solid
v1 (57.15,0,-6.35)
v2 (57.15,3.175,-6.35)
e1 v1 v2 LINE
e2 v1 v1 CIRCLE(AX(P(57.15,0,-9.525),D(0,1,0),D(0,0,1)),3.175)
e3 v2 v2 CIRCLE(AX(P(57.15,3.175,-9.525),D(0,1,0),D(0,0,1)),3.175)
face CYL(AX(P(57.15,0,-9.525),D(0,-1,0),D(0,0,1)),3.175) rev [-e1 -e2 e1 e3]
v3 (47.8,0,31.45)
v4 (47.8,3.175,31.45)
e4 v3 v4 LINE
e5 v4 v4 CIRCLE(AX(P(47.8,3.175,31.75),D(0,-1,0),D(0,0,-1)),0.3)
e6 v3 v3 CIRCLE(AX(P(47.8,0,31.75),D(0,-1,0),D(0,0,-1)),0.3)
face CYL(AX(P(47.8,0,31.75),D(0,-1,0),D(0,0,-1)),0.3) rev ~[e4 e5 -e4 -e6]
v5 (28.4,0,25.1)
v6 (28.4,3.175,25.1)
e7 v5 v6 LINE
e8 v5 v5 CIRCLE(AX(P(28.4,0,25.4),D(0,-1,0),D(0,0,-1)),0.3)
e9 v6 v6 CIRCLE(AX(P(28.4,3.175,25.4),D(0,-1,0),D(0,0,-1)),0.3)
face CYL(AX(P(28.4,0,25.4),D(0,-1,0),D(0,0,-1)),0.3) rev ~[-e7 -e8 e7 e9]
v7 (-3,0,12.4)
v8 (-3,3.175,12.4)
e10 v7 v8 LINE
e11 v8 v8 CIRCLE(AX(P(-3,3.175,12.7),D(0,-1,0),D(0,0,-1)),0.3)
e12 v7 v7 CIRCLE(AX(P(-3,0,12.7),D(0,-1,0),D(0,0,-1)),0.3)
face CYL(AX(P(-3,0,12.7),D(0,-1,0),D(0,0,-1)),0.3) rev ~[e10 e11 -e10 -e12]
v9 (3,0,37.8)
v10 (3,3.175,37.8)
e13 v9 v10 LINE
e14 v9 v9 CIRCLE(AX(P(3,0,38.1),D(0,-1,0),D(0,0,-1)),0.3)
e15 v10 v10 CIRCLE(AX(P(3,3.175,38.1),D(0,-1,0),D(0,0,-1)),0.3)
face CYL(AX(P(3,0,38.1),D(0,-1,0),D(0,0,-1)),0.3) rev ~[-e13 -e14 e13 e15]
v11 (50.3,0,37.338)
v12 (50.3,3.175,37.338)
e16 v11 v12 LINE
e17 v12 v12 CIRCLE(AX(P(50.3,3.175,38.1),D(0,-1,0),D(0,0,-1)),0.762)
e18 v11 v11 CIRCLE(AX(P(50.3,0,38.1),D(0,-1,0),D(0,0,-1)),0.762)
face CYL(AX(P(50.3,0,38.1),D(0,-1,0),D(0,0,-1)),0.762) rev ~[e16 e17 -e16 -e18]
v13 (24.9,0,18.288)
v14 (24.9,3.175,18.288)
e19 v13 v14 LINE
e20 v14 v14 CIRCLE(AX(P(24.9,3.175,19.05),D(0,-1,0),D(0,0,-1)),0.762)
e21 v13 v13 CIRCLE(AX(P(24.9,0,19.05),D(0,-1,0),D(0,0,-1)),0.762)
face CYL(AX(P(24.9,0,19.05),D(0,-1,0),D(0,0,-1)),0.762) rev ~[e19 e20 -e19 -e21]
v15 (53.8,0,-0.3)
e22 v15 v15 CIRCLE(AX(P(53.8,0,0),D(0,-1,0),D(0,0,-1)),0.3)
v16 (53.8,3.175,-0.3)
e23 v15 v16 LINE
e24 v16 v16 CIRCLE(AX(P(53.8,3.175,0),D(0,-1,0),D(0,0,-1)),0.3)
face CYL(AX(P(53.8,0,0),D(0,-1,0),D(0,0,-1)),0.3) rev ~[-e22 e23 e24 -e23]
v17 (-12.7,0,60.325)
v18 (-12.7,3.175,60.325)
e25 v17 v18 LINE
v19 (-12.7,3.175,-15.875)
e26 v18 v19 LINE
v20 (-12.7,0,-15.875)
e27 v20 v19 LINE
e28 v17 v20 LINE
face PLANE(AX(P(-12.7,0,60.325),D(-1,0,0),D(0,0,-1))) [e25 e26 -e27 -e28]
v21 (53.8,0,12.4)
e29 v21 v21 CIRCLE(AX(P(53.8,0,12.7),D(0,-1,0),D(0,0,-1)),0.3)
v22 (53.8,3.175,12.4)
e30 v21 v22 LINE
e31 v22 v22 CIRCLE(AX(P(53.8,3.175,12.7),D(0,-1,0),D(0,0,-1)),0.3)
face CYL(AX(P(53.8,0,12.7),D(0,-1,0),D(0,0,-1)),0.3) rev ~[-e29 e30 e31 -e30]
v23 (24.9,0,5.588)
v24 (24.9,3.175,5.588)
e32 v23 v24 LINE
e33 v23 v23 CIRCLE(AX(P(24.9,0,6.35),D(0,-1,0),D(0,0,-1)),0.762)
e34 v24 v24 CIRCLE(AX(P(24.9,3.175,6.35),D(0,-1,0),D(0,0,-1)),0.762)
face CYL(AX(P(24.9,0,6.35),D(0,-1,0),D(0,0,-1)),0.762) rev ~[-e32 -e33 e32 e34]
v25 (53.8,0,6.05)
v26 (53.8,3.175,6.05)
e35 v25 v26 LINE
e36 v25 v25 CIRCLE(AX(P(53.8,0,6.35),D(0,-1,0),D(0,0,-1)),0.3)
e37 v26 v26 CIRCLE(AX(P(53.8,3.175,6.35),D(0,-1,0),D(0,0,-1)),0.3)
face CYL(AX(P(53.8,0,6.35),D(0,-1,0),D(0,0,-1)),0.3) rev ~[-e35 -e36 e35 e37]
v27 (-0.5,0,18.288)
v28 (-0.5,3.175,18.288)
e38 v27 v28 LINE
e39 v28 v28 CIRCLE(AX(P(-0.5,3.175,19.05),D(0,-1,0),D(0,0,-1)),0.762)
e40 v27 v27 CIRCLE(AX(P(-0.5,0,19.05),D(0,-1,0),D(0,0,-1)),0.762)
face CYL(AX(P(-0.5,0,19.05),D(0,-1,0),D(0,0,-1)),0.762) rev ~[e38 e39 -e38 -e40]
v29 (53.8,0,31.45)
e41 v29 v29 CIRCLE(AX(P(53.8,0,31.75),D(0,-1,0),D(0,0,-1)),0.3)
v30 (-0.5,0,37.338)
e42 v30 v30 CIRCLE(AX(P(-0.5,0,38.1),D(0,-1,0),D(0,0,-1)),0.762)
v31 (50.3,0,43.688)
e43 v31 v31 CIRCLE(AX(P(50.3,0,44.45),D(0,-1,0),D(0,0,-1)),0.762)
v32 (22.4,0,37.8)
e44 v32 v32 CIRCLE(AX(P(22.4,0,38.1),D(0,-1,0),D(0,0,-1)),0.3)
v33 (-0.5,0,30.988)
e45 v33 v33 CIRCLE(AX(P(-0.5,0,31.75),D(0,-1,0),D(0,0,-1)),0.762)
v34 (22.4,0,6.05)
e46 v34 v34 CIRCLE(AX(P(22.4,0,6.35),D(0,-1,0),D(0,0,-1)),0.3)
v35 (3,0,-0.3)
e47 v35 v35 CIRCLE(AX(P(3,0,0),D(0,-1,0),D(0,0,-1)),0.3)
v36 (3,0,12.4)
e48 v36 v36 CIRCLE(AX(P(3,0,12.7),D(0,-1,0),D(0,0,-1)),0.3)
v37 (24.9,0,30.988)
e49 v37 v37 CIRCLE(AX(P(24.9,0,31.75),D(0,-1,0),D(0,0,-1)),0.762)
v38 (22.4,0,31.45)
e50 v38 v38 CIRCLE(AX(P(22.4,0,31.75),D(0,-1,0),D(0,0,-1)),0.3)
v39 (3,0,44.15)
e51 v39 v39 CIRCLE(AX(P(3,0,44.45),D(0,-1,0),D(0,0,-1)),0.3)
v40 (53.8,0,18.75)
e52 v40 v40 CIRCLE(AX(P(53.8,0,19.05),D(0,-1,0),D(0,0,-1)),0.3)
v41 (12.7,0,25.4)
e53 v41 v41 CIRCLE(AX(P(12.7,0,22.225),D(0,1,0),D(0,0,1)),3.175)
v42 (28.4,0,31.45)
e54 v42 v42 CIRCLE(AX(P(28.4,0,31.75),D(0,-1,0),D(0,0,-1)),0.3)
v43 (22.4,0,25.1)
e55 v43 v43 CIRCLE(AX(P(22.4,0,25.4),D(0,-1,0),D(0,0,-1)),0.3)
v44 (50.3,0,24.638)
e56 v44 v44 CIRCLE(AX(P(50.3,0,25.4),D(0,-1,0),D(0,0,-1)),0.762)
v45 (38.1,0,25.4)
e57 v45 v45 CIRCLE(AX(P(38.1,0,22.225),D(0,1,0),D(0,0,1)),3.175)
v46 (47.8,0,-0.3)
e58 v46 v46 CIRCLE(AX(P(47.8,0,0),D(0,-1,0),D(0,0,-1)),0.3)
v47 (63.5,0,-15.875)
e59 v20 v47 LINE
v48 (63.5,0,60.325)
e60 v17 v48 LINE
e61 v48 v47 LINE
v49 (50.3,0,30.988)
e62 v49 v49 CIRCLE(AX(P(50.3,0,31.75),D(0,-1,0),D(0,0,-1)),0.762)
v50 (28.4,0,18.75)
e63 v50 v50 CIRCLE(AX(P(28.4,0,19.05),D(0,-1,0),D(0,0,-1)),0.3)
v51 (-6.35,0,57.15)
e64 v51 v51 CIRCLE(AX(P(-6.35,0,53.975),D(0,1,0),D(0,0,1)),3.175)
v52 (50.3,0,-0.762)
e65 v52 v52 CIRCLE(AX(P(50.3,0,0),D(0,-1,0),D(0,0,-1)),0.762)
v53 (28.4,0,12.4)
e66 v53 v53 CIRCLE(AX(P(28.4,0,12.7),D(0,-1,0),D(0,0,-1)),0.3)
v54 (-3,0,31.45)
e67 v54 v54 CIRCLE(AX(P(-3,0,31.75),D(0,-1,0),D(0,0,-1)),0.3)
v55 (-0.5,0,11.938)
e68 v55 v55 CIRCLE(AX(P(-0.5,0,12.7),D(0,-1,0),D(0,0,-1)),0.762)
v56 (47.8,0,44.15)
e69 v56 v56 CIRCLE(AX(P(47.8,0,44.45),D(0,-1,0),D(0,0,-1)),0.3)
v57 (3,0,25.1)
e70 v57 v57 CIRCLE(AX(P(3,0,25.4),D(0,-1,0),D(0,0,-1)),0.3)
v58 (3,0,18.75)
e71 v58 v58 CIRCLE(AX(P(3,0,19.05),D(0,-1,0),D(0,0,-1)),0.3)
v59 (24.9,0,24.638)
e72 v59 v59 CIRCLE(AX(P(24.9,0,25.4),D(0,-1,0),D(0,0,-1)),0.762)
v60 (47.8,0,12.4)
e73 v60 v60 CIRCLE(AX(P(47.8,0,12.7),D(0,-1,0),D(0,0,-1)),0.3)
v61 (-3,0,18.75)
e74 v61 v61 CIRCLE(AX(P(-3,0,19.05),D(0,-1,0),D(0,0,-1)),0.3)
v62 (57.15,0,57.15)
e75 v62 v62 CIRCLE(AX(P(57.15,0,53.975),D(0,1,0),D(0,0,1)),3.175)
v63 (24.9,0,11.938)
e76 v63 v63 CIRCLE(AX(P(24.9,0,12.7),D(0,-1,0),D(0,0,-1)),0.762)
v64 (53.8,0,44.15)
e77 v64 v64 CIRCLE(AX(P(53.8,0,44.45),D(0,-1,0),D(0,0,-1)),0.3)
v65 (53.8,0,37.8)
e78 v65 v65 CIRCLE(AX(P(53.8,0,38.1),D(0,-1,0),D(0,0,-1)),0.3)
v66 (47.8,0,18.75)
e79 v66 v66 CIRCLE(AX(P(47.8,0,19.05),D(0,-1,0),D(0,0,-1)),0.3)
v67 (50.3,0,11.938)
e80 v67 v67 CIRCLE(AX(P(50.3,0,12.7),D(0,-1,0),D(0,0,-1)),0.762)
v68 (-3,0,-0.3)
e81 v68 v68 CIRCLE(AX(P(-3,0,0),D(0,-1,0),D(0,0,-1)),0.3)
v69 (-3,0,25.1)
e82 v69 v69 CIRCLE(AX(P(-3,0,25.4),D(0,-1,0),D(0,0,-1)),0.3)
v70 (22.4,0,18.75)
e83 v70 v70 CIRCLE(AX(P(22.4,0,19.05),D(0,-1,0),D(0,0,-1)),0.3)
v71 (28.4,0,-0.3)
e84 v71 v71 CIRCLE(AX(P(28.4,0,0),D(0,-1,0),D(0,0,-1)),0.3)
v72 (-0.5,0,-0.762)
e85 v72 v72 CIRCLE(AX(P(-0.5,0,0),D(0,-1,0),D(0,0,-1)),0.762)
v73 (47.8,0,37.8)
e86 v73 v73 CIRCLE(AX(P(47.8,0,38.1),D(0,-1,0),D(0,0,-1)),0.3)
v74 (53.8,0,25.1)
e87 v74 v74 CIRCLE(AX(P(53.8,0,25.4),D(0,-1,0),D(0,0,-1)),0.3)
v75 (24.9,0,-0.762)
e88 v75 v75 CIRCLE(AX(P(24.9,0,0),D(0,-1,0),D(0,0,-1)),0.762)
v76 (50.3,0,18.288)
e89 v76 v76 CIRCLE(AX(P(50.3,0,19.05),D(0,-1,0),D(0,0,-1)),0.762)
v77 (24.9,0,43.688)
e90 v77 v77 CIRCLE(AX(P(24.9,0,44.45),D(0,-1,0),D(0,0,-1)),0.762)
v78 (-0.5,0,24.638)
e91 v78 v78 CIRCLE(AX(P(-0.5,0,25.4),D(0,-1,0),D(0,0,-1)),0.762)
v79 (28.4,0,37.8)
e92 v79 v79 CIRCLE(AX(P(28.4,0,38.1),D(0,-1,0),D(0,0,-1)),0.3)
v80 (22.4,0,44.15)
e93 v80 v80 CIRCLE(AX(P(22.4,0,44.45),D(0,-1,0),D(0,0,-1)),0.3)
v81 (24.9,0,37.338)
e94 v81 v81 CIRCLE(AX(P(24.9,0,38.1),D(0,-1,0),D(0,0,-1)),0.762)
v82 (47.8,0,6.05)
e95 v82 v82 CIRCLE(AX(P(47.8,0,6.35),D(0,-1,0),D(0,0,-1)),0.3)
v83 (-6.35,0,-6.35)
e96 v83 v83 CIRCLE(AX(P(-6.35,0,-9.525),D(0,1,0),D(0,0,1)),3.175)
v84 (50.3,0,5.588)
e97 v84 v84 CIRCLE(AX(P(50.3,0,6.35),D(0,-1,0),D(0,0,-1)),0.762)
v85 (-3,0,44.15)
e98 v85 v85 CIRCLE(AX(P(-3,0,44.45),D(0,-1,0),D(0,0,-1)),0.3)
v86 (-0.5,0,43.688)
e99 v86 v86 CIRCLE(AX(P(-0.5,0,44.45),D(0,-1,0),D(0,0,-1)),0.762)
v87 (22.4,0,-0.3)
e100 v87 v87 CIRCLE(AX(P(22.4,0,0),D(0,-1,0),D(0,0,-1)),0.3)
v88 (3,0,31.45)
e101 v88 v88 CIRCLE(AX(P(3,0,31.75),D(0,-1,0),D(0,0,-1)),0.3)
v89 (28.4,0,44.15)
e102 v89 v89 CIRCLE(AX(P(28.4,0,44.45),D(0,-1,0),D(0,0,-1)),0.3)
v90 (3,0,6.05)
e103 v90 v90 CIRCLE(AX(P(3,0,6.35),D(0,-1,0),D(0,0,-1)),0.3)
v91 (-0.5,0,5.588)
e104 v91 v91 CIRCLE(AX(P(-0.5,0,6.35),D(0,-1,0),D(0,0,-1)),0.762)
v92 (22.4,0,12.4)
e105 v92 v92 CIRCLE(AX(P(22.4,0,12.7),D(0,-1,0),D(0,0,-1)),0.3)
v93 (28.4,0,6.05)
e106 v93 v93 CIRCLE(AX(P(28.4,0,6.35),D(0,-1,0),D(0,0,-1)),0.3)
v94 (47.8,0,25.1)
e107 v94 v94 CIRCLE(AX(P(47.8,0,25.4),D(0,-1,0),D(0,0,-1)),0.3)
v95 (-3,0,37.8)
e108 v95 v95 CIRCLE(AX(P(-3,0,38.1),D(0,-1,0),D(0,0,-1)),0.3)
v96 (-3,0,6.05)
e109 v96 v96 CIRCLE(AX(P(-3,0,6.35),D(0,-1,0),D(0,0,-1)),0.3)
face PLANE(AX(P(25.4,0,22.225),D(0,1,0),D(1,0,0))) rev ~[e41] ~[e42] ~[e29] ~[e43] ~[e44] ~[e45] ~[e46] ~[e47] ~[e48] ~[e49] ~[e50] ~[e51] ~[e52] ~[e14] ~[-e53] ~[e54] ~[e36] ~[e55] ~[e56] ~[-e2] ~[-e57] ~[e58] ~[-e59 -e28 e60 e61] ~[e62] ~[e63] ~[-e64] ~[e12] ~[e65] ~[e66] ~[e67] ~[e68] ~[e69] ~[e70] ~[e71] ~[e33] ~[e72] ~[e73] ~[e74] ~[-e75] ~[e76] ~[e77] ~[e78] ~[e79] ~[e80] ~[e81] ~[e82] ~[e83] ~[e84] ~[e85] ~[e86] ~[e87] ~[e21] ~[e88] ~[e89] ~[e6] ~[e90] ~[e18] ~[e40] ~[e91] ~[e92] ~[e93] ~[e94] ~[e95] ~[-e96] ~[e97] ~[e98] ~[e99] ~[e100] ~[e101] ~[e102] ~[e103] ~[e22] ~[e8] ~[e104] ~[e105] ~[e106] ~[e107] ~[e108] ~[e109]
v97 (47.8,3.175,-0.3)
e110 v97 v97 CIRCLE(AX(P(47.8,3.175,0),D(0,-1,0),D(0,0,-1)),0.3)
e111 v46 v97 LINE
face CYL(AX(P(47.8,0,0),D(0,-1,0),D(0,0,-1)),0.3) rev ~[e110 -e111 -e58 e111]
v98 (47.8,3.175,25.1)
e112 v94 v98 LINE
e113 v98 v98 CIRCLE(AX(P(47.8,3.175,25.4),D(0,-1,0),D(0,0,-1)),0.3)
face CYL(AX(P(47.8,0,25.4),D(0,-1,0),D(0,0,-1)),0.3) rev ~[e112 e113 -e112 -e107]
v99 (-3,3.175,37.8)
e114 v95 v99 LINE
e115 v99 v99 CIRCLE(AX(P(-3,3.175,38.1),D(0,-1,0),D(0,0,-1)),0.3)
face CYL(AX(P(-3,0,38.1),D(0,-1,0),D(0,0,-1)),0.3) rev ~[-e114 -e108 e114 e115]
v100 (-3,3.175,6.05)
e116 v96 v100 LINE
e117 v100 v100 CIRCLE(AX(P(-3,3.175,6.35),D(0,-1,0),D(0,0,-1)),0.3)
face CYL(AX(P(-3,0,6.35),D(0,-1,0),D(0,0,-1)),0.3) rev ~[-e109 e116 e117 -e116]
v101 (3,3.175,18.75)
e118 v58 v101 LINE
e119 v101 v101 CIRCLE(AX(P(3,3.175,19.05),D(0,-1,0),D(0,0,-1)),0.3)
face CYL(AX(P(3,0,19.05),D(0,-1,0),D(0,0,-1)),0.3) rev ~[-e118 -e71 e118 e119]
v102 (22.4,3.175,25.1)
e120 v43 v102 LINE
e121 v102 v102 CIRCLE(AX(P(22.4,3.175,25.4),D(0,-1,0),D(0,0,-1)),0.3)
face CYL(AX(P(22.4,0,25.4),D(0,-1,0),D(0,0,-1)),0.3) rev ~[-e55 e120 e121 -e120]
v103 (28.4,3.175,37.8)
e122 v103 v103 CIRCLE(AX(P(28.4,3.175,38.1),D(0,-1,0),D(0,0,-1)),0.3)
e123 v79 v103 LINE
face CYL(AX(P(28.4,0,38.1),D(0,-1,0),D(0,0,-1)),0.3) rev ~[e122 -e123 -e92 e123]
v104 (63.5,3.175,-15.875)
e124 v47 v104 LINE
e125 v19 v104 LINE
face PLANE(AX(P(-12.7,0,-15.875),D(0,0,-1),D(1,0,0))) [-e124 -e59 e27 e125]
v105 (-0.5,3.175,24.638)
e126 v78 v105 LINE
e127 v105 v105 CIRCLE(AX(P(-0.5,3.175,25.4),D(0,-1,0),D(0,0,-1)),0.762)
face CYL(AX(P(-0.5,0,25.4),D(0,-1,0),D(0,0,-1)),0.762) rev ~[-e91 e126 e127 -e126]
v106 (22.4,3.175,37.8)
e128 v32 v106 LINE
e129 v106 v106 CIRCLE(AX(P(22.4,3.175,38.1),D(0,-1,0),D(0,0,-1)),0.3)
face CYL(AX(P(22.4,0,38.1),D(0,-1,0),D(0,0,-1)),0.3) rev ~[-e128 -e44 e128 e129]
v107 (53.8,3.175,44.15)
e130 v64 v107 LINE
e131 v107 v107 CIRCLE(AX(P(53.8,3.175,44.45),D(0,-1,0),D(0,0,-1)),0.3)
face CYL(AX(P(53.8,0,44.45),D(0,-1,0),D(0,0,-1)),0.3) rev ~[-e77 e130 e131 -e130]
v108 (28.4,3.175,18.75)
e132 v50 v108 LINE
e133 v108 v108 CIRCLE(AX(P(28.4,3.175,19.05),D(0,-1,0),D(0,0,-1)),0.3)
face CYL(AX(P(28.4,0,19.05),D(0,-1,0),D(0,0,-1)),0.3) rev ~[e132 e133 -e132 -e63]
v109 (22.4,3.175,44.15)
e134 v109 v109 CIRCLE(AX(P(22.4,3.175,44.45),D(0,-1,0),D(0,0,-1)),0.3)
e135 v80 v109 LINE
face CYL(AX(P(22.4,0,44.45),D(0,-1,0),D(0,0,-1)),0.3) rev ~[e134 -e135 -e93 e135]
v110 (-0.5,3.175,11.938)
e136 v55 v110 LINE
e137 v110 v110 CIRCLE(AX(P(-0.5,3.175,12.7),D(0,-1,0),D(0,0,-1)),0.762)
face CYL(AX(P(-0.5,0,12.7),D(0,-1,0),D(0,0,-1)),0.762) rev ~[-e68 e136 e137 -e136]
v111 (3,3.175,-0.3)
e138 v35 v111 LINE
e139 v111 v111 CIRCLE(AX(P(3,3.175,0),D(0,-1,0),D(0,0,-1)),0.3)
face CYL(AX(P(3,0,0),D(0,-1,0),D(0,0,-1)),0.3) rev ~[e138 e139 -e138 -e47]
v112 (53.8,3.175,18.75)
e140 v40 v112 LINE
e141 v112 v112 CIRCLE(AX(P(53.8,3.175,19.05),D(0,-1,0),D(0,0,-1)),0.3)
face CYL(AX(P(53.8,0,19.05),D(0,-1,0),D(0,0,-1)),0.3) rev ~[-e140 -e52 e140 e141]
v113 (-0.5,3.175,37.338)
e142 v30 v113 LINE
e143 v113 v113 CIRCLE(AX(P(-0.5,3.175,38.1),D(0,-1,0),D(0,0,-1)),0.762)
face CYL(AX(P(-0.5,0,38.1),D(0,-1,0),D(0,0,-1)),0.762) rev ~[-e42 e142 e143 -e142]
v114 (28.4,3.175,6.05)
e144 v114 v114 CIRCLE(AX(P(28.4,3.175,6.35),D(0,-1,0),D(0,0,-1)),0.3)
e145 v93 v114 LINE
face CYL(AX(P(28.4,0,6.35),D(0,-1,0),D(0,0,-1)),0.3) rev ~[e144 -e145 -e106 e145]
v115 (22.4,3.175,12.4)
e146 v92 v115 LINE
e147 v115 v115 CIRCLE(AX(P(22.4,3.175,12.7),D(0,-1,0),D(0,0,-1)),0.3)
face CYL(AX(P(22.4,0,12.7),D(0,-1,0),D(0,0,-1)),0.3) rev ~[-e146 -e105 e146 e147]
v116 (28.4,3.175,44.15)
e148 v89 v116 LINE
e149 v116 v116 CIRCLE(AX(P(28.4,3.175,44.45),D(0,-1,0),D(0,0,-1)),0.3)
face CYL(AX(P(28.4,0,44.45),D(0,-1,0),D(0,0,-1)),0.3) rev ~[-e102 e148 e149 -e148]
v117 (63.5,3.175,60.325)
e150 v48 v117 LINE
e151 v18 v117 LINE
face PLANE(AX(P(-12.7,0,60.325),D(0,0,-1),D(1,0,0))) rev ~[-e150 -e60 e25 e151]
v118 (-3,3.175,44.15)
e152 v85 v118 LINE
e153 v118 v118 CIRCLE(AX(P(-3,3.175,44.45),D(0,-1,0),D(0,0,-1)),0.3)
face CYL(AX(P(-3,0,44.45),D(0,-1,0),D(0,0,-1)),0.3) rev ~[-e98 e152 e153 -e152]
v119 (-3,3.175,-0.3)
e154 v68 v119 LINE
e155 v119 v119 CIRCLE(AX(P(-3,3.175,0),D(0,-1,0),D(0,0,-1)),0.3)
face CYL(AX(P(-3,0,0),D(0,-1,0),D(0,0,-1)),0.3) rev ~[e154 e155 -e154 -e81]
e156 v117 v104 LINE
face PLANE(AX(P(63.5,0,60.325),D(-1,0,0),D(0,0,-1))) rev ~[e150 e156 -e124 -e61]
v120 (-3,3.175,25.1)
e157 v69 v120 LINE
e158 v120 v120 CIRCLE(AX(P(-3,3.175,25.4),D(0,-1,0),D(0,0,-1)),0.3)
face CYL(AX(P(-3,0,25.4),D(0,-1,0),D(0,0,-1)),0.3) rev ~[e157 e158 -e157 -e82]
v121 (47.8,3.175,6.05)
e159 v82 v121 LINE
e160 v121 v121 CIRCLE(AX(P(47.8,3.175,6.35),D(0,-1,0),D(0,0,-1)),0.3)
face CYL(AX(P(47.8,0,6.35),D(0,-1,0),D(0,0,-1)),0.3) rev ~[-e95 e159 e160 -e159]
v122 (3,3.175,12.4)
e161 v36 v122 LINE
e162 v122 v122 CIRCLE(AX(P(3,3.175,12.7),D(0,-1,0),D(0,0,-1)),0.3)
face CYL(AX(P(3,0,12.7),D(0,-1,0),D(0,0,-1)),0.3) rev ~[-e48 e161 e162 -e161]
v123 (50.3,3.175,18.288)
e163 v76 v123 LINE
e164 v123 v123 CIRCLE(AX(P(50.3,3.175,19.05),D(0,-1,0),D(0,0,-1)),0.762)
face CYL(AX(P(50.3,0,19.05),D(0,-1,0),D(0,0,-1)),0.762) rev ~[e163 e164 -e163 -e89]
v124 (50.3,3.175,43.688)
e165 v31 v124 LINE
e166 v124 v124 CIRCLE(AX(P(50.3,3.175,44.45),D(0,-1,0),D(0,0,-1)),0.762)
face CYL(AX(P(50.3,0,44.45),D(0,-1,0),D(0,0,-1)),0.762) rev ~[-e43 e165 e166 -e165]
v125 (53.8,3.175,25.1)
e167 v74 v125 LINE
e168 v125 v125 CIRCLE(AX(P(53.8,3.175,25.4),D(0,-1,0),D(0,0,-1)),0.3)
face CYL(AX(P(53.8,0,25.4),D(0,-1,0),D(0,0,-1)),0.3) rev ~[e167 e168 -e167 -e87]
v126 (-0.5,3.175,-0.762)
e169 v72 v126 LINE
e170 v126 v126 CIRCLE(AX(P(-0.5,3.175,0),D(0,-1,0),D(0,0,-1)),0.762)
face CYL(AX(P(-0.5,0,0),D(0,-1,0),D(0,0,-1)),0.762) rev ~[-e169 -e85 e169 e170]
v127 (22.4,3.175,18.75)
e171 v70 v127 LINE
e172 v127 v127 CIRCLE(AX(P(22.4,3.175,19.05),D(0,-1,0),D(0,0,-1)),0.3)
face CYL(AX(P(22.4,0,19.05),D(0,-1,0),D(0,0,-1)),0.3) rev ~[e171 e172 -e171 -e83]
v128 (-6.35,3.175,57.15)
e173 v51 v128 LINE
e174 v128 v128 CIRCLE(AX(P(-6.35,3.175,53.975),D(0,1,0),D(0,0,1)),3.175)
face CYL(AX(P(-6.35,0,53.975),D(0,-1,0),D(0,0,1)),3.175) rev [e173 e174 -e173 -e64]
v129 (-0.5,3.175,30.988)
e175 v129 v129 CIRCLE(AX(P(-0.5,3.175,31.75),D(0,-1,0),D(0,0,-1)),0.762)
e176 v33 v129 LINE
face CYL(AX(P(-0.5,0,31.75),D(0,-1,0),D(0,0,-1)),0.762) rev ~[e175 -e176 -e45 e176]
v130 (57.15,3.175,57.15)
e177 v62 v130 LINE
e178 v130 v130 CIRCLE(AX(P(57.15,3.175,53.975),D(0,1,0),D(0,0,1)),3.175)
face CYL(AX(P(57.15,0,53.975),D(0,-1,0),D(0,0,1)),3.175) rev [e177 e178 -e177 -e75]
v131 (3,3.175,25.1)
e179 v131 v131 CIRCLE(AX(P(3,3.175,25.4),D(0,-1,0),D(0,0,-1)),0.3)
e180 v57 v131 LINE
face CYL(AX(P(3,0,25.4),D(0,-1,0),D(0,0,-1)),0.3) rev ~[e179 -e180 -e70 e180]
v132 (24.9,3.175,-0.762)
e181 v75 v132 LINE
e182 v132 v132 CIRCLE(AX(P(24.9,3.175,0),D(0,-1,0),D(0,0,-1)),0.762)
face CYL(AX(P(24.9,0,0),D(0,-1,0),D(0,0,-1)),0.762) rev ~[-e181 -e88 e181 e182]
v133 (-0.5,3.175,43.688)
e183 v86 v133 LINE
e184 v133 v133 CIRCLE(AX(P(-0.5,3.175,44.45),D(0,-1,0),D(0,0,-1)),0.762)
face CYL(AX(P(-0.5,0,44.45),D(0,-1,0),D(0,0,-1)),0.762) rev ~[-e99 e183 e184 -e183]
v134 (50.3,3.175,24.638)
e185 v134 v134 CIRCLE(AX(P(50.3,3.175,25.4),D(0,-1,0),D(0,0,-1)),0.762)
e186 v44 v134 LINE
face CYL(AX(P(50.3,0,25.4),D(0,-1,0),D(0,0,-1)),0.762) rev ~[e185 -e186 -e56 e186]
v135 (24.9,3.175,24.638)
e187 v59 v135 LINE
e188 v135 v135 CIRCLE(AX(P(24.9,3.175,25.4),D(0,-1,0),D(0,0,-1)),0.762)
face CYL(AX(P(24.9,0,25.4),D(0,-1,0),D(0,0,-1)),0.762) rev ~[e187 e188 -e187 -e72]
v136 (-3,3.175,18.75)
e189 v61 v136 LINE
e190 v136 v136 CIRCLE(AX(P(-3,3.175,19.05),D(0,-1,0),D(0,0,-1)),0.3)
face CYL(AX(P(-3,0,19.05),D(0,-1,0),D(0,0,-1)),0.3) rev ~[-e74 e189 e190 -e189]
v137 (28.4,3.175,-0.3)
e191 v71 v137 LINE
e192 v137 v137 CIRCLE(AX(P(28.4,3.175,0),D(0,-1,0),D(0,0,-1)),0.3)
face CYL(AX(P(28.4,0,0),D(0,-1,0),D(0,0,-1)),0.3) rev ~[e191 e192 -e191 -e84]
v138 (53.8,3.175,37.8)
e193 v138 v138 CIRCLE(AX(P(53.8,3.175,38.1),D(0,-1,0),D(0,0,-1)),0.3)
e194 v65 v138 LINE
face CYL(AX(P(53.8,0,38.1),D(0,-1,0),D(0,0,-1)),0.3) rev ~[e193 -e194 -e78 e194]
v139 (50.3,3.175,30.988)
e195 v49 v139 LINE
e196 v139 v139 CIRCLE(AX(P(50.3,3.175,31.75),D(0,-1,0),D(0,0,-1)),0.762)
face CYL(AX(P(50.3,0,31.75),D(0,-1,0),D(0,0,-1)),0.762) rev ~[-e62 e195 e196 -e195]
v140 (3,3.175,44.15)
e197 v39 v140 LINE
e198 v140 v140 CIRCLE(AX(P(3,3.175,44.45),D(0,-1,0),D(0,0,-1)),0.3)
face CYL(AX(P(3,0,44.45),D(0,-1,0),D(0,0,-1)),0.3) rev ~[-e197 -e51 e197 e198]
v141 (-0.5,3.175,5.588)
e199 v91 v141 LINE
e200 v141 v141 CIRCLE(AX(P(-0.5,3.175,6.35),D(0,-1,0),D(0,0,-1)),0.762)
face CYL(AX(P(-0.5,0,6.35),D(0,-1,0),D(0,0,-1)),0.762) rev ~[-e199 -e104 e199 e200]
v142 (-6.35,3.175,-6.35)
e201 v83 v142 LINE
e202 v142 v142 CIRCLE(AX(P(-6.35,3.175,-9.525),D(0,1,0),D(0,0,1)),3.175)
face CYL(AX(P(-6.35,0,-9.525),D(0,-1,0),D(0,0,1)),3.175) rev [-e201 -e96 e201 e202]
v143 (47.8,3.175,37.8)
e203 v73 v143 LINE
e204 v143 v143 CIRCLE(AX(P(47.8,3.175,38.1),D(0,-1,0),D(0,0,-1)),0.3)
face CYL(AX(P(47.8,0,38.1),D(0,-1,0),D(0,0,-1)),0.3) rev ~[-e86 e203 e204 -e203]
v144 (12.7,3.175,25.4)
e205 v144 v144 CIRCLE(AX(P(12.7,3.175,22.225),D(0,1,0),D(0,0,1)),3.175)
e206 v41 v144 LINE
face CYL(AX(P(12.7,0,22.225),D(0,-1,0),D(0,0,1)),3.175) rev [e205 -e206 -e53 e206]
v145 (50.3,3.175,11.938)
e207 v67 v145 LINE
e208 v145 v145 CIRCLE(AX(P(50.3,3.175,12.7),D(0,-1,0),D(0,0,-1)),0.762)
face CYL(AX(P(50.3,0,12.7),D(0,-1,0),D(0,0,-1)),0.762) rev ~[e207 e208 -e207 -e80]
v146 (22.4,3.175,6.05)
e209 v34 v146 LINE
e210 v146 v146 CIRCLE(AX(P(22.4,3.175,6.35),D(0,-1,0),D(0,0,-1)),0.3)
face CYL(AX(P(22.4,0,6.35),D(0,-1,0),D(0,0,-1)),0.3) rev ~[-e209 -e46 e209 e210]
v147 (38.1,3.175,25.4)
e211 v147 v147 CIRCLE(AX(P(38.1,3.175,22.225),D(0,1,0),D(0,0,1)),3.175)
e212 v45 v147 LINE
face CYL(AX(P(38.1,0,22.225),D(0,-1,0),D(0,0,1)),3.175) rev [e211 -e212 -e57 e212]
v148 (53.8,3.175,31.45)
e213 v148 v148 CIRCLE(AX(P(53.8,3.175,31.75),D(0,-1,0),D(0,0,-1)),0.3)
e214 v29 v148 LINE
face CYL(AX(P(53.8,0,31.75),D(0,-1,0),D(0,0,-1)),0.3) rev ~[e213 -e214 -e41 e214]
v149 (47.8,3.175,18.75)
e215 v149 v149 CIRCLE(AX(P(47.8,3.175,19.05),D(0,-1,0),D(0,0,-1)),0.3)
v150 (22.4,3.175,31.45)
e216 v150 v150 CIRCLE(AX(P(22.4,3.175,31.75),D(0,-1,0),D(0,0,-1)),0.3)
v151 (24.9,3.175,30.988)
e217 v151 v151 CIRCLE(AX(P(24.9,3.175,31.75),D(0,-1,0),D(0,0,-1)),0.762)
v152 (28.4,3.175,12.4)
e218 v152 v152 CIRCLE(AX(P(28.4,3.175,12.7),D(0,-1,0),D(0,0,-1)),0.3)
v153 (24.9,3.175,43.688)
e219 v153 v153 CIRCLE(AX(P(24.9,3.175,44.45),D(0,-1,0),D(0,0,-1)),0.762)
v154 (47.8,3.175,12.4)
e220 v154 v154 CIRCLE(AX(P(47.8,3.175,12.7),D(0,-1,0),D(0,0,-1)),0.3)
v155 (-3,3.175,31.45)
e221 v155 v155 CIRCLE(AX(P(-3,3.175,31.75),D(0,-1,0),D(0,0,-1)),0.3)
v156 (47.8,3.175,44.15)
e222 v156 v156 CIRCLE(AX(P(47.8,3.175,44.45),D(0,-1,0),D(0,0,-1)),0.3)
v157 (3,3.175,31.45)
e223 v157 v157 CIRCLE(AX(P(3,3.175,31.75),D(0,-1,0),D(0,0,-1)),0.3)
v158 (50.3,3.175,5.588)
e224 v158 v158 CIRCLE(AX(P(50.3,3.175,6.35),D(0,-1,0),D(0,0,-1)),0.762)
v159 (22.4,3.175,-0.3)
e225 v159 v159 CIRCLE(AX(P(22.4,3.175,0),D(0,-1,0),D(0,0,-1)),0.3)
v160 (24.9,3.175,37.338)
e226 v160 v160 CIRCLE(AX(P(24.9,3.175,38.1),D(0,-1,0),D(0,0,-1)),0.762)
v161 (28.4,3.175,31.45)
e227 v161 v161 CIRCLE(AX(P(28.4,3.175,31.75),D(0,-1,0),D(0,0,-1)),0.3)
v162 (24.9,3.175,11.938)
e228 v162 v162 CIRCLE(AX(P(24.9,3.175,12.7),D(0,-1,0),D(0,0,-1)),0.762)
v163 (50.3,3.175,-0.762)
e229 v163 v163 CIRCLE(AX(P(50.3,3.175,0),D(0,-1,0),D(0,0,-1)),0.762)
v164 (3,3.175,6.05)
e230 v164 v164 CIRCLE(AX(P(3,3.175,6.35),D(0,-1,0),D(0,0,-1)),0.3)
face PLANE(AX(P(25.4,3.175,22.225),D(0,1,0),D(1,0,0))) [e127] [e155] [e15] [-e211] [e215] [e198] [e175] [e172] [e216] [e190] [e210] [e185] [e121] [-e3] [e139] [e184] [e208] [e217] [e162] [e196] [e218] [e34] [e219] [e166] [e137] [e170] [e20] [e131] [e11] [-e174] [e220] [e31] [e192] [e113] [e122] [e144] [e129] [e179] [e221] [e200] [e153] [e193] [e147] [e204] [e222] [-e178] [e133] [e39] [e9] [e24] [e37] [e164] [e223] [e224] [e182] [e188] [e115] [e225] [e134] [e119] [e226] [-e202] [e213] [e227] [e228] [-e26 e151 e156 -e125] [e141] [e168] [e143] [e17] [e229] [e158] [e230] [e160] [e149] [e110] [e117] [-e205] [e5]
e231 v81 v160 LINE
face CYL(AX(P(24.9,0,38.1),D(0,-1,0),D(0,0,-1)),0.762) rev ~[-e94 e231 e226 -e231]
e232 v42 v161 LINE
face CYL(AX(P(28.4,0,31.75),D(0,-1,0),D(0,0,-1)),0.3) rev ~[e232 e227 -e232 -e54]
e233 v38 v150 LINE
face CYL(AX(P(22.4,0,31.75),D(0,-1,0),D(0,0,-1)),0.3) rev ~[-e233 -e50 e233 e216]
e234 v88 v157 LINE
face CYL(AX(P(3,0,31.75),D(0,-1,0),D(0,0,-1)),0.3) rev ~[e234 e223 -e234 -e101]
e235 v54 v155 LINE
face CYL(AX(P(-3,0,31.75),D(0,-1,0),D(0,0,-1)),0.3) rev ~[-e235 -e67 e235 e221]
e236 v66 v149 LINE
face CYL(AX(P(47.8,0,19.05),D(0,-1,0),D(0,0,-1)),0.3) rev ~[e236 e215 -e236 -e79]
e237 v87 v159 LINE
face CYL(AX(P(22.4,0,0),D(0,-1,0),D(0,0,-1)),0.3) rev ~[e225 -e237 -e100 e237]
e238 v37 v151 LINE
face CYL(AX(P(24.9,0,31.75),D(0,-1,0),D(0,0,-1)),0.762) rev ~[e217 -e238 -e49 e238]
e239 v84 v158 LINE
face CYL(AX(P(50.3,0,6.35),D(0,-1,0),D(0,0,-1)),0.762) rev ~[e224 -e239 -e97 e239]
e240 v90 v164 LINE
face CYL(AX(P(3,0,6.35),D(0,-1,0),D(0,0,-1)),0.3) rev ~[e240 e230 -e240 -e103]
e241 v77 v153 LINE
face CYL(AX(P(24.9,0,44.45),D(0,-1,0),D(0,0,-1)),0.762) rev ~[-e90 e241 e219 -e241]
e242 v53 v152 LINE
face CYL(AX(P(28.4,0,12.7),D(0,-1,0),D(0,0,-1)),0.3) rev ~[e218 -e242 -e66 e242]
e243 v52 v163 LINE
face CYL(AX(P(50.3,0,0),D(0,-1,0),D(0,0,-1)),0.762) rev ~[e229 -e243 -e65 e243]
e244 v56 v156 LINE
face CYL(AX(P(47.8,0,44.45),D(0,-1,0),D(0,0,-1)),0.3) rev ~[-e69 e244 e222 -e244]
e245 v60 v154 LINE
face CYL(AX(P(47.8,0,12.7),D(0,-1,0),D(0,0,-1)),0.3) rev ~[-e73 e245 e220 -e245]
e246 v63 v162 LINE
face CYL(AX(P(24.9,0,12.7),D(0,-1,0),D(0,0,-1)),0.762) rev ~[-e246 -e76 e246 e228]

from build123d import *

# Parameters (mm, degrees)
BASEWITH_ALIGNMENT_W = 76.2
BASEWITH_ALIGNMENT_H = 76.2
BASEWITH_ALIGNMENT_R = 3.175
BOSS_EXTRUDE1_DEPTH  = 3.175
SKETCH1_R            = 0.762
SKETCH1_R_2          = 0.3
CUT_EXTRUDE6_DEPTH   = 88.643803261
LPATTERN1_COUNT      = 8
LPATTERN1_PITCH      = 6.35
LPATTERN1_COUNT_DIR2 = 3
LPATTERN1_PITCH_DIR2 = 25.4


with BuildPart() as part:
    # BaseWith Alignment → Boss-Extrude1 (new body)
    with BuildSketch(Plane(origin=(0, 0, 0), x_dir=(1, 0, 0), z_dir=(0, 1, 0))):
        with Locations((25.4, -22.225)):
            Rectangle(BASEWITH_ALIGNMENT_W, BASEWITH_ALIGNMENT_H)
        with Locations(Location((-6.35, 9.525, 0), (0, 0, 270))):
            Circle(BASEWITH_ALIGNMENT_R, mode=Mode.SUBTRACT)
        with Locations(Location((57.15, 9.525, 0), (0, 0, 270))):
            Circle(BASEWITH_ALIGNMENT_R, mode=Mode.SUBTRACT)
        with Locations(Location((-6.35, -53.975, 0), (0, 0, 270))):
            Circle(BASEWITH_ALIGNMENT_R, mode=Mode.SUBTRACT)
        with Locations(Location((57.15, -53.975, 0), (0, 0, 270))):
            Circle(BASEWITH_ALIGNMENT_R, mode=Mode.SUBTRACT)
        with Locations(Location((12.7, -22.225, 0), (0, 0, 270))):
            Circle(BASEWITH_ALIGNMENT_R, mode=Mode.SUBTRACT)
        with Locations(Location((38.1, -22.225, 0), (0, 0, 270))):
            Circle(BASEWITH_ALIGNMENT_R, mode=Mode.SUBTRACT)
    extrude(amount=BOSS_EXTRUDE1_DEPTH)

    # Sketch1 → Cut-Extrude6 (cut, through all)
    with BuildSketch(Plane(origin=(0, 0, 0), x_dir=(-1, 0, 0), z_dir=(0, -1, 0))):
        with Locations(Location((0.5, 0, 0), (0, 0, 90))):
            Circle(SKETCH1_R)
        with Locations(Location((3, 0, 0), (0, 0, 90))):
            Circle(SKETCH1_R_2)
        with Locations(Location((-3, 0, 0), (0, 0, 90))):
            Circle(SKETCH1_R_2)
    cut_extrude6 = extrude(amount=-CUT_EXTRUDE6_DEPTH, mode=Mode.SUBTRACT)

    # LPattern1: Cut-Extrude6 8 × 3
    with Locations(*[(j * LPATTERN1_PITCH_DIR2, 0, i * LPATTERN1_PITCH) for i in range(LPATTERN1_COUNT) for j in range(LPATTERN1_COUNT_DIR2) if (i, j) != (0, 0)]):
        add(cut_extrude6, mode=Mode.SUBTRACT)


solid = part.part
